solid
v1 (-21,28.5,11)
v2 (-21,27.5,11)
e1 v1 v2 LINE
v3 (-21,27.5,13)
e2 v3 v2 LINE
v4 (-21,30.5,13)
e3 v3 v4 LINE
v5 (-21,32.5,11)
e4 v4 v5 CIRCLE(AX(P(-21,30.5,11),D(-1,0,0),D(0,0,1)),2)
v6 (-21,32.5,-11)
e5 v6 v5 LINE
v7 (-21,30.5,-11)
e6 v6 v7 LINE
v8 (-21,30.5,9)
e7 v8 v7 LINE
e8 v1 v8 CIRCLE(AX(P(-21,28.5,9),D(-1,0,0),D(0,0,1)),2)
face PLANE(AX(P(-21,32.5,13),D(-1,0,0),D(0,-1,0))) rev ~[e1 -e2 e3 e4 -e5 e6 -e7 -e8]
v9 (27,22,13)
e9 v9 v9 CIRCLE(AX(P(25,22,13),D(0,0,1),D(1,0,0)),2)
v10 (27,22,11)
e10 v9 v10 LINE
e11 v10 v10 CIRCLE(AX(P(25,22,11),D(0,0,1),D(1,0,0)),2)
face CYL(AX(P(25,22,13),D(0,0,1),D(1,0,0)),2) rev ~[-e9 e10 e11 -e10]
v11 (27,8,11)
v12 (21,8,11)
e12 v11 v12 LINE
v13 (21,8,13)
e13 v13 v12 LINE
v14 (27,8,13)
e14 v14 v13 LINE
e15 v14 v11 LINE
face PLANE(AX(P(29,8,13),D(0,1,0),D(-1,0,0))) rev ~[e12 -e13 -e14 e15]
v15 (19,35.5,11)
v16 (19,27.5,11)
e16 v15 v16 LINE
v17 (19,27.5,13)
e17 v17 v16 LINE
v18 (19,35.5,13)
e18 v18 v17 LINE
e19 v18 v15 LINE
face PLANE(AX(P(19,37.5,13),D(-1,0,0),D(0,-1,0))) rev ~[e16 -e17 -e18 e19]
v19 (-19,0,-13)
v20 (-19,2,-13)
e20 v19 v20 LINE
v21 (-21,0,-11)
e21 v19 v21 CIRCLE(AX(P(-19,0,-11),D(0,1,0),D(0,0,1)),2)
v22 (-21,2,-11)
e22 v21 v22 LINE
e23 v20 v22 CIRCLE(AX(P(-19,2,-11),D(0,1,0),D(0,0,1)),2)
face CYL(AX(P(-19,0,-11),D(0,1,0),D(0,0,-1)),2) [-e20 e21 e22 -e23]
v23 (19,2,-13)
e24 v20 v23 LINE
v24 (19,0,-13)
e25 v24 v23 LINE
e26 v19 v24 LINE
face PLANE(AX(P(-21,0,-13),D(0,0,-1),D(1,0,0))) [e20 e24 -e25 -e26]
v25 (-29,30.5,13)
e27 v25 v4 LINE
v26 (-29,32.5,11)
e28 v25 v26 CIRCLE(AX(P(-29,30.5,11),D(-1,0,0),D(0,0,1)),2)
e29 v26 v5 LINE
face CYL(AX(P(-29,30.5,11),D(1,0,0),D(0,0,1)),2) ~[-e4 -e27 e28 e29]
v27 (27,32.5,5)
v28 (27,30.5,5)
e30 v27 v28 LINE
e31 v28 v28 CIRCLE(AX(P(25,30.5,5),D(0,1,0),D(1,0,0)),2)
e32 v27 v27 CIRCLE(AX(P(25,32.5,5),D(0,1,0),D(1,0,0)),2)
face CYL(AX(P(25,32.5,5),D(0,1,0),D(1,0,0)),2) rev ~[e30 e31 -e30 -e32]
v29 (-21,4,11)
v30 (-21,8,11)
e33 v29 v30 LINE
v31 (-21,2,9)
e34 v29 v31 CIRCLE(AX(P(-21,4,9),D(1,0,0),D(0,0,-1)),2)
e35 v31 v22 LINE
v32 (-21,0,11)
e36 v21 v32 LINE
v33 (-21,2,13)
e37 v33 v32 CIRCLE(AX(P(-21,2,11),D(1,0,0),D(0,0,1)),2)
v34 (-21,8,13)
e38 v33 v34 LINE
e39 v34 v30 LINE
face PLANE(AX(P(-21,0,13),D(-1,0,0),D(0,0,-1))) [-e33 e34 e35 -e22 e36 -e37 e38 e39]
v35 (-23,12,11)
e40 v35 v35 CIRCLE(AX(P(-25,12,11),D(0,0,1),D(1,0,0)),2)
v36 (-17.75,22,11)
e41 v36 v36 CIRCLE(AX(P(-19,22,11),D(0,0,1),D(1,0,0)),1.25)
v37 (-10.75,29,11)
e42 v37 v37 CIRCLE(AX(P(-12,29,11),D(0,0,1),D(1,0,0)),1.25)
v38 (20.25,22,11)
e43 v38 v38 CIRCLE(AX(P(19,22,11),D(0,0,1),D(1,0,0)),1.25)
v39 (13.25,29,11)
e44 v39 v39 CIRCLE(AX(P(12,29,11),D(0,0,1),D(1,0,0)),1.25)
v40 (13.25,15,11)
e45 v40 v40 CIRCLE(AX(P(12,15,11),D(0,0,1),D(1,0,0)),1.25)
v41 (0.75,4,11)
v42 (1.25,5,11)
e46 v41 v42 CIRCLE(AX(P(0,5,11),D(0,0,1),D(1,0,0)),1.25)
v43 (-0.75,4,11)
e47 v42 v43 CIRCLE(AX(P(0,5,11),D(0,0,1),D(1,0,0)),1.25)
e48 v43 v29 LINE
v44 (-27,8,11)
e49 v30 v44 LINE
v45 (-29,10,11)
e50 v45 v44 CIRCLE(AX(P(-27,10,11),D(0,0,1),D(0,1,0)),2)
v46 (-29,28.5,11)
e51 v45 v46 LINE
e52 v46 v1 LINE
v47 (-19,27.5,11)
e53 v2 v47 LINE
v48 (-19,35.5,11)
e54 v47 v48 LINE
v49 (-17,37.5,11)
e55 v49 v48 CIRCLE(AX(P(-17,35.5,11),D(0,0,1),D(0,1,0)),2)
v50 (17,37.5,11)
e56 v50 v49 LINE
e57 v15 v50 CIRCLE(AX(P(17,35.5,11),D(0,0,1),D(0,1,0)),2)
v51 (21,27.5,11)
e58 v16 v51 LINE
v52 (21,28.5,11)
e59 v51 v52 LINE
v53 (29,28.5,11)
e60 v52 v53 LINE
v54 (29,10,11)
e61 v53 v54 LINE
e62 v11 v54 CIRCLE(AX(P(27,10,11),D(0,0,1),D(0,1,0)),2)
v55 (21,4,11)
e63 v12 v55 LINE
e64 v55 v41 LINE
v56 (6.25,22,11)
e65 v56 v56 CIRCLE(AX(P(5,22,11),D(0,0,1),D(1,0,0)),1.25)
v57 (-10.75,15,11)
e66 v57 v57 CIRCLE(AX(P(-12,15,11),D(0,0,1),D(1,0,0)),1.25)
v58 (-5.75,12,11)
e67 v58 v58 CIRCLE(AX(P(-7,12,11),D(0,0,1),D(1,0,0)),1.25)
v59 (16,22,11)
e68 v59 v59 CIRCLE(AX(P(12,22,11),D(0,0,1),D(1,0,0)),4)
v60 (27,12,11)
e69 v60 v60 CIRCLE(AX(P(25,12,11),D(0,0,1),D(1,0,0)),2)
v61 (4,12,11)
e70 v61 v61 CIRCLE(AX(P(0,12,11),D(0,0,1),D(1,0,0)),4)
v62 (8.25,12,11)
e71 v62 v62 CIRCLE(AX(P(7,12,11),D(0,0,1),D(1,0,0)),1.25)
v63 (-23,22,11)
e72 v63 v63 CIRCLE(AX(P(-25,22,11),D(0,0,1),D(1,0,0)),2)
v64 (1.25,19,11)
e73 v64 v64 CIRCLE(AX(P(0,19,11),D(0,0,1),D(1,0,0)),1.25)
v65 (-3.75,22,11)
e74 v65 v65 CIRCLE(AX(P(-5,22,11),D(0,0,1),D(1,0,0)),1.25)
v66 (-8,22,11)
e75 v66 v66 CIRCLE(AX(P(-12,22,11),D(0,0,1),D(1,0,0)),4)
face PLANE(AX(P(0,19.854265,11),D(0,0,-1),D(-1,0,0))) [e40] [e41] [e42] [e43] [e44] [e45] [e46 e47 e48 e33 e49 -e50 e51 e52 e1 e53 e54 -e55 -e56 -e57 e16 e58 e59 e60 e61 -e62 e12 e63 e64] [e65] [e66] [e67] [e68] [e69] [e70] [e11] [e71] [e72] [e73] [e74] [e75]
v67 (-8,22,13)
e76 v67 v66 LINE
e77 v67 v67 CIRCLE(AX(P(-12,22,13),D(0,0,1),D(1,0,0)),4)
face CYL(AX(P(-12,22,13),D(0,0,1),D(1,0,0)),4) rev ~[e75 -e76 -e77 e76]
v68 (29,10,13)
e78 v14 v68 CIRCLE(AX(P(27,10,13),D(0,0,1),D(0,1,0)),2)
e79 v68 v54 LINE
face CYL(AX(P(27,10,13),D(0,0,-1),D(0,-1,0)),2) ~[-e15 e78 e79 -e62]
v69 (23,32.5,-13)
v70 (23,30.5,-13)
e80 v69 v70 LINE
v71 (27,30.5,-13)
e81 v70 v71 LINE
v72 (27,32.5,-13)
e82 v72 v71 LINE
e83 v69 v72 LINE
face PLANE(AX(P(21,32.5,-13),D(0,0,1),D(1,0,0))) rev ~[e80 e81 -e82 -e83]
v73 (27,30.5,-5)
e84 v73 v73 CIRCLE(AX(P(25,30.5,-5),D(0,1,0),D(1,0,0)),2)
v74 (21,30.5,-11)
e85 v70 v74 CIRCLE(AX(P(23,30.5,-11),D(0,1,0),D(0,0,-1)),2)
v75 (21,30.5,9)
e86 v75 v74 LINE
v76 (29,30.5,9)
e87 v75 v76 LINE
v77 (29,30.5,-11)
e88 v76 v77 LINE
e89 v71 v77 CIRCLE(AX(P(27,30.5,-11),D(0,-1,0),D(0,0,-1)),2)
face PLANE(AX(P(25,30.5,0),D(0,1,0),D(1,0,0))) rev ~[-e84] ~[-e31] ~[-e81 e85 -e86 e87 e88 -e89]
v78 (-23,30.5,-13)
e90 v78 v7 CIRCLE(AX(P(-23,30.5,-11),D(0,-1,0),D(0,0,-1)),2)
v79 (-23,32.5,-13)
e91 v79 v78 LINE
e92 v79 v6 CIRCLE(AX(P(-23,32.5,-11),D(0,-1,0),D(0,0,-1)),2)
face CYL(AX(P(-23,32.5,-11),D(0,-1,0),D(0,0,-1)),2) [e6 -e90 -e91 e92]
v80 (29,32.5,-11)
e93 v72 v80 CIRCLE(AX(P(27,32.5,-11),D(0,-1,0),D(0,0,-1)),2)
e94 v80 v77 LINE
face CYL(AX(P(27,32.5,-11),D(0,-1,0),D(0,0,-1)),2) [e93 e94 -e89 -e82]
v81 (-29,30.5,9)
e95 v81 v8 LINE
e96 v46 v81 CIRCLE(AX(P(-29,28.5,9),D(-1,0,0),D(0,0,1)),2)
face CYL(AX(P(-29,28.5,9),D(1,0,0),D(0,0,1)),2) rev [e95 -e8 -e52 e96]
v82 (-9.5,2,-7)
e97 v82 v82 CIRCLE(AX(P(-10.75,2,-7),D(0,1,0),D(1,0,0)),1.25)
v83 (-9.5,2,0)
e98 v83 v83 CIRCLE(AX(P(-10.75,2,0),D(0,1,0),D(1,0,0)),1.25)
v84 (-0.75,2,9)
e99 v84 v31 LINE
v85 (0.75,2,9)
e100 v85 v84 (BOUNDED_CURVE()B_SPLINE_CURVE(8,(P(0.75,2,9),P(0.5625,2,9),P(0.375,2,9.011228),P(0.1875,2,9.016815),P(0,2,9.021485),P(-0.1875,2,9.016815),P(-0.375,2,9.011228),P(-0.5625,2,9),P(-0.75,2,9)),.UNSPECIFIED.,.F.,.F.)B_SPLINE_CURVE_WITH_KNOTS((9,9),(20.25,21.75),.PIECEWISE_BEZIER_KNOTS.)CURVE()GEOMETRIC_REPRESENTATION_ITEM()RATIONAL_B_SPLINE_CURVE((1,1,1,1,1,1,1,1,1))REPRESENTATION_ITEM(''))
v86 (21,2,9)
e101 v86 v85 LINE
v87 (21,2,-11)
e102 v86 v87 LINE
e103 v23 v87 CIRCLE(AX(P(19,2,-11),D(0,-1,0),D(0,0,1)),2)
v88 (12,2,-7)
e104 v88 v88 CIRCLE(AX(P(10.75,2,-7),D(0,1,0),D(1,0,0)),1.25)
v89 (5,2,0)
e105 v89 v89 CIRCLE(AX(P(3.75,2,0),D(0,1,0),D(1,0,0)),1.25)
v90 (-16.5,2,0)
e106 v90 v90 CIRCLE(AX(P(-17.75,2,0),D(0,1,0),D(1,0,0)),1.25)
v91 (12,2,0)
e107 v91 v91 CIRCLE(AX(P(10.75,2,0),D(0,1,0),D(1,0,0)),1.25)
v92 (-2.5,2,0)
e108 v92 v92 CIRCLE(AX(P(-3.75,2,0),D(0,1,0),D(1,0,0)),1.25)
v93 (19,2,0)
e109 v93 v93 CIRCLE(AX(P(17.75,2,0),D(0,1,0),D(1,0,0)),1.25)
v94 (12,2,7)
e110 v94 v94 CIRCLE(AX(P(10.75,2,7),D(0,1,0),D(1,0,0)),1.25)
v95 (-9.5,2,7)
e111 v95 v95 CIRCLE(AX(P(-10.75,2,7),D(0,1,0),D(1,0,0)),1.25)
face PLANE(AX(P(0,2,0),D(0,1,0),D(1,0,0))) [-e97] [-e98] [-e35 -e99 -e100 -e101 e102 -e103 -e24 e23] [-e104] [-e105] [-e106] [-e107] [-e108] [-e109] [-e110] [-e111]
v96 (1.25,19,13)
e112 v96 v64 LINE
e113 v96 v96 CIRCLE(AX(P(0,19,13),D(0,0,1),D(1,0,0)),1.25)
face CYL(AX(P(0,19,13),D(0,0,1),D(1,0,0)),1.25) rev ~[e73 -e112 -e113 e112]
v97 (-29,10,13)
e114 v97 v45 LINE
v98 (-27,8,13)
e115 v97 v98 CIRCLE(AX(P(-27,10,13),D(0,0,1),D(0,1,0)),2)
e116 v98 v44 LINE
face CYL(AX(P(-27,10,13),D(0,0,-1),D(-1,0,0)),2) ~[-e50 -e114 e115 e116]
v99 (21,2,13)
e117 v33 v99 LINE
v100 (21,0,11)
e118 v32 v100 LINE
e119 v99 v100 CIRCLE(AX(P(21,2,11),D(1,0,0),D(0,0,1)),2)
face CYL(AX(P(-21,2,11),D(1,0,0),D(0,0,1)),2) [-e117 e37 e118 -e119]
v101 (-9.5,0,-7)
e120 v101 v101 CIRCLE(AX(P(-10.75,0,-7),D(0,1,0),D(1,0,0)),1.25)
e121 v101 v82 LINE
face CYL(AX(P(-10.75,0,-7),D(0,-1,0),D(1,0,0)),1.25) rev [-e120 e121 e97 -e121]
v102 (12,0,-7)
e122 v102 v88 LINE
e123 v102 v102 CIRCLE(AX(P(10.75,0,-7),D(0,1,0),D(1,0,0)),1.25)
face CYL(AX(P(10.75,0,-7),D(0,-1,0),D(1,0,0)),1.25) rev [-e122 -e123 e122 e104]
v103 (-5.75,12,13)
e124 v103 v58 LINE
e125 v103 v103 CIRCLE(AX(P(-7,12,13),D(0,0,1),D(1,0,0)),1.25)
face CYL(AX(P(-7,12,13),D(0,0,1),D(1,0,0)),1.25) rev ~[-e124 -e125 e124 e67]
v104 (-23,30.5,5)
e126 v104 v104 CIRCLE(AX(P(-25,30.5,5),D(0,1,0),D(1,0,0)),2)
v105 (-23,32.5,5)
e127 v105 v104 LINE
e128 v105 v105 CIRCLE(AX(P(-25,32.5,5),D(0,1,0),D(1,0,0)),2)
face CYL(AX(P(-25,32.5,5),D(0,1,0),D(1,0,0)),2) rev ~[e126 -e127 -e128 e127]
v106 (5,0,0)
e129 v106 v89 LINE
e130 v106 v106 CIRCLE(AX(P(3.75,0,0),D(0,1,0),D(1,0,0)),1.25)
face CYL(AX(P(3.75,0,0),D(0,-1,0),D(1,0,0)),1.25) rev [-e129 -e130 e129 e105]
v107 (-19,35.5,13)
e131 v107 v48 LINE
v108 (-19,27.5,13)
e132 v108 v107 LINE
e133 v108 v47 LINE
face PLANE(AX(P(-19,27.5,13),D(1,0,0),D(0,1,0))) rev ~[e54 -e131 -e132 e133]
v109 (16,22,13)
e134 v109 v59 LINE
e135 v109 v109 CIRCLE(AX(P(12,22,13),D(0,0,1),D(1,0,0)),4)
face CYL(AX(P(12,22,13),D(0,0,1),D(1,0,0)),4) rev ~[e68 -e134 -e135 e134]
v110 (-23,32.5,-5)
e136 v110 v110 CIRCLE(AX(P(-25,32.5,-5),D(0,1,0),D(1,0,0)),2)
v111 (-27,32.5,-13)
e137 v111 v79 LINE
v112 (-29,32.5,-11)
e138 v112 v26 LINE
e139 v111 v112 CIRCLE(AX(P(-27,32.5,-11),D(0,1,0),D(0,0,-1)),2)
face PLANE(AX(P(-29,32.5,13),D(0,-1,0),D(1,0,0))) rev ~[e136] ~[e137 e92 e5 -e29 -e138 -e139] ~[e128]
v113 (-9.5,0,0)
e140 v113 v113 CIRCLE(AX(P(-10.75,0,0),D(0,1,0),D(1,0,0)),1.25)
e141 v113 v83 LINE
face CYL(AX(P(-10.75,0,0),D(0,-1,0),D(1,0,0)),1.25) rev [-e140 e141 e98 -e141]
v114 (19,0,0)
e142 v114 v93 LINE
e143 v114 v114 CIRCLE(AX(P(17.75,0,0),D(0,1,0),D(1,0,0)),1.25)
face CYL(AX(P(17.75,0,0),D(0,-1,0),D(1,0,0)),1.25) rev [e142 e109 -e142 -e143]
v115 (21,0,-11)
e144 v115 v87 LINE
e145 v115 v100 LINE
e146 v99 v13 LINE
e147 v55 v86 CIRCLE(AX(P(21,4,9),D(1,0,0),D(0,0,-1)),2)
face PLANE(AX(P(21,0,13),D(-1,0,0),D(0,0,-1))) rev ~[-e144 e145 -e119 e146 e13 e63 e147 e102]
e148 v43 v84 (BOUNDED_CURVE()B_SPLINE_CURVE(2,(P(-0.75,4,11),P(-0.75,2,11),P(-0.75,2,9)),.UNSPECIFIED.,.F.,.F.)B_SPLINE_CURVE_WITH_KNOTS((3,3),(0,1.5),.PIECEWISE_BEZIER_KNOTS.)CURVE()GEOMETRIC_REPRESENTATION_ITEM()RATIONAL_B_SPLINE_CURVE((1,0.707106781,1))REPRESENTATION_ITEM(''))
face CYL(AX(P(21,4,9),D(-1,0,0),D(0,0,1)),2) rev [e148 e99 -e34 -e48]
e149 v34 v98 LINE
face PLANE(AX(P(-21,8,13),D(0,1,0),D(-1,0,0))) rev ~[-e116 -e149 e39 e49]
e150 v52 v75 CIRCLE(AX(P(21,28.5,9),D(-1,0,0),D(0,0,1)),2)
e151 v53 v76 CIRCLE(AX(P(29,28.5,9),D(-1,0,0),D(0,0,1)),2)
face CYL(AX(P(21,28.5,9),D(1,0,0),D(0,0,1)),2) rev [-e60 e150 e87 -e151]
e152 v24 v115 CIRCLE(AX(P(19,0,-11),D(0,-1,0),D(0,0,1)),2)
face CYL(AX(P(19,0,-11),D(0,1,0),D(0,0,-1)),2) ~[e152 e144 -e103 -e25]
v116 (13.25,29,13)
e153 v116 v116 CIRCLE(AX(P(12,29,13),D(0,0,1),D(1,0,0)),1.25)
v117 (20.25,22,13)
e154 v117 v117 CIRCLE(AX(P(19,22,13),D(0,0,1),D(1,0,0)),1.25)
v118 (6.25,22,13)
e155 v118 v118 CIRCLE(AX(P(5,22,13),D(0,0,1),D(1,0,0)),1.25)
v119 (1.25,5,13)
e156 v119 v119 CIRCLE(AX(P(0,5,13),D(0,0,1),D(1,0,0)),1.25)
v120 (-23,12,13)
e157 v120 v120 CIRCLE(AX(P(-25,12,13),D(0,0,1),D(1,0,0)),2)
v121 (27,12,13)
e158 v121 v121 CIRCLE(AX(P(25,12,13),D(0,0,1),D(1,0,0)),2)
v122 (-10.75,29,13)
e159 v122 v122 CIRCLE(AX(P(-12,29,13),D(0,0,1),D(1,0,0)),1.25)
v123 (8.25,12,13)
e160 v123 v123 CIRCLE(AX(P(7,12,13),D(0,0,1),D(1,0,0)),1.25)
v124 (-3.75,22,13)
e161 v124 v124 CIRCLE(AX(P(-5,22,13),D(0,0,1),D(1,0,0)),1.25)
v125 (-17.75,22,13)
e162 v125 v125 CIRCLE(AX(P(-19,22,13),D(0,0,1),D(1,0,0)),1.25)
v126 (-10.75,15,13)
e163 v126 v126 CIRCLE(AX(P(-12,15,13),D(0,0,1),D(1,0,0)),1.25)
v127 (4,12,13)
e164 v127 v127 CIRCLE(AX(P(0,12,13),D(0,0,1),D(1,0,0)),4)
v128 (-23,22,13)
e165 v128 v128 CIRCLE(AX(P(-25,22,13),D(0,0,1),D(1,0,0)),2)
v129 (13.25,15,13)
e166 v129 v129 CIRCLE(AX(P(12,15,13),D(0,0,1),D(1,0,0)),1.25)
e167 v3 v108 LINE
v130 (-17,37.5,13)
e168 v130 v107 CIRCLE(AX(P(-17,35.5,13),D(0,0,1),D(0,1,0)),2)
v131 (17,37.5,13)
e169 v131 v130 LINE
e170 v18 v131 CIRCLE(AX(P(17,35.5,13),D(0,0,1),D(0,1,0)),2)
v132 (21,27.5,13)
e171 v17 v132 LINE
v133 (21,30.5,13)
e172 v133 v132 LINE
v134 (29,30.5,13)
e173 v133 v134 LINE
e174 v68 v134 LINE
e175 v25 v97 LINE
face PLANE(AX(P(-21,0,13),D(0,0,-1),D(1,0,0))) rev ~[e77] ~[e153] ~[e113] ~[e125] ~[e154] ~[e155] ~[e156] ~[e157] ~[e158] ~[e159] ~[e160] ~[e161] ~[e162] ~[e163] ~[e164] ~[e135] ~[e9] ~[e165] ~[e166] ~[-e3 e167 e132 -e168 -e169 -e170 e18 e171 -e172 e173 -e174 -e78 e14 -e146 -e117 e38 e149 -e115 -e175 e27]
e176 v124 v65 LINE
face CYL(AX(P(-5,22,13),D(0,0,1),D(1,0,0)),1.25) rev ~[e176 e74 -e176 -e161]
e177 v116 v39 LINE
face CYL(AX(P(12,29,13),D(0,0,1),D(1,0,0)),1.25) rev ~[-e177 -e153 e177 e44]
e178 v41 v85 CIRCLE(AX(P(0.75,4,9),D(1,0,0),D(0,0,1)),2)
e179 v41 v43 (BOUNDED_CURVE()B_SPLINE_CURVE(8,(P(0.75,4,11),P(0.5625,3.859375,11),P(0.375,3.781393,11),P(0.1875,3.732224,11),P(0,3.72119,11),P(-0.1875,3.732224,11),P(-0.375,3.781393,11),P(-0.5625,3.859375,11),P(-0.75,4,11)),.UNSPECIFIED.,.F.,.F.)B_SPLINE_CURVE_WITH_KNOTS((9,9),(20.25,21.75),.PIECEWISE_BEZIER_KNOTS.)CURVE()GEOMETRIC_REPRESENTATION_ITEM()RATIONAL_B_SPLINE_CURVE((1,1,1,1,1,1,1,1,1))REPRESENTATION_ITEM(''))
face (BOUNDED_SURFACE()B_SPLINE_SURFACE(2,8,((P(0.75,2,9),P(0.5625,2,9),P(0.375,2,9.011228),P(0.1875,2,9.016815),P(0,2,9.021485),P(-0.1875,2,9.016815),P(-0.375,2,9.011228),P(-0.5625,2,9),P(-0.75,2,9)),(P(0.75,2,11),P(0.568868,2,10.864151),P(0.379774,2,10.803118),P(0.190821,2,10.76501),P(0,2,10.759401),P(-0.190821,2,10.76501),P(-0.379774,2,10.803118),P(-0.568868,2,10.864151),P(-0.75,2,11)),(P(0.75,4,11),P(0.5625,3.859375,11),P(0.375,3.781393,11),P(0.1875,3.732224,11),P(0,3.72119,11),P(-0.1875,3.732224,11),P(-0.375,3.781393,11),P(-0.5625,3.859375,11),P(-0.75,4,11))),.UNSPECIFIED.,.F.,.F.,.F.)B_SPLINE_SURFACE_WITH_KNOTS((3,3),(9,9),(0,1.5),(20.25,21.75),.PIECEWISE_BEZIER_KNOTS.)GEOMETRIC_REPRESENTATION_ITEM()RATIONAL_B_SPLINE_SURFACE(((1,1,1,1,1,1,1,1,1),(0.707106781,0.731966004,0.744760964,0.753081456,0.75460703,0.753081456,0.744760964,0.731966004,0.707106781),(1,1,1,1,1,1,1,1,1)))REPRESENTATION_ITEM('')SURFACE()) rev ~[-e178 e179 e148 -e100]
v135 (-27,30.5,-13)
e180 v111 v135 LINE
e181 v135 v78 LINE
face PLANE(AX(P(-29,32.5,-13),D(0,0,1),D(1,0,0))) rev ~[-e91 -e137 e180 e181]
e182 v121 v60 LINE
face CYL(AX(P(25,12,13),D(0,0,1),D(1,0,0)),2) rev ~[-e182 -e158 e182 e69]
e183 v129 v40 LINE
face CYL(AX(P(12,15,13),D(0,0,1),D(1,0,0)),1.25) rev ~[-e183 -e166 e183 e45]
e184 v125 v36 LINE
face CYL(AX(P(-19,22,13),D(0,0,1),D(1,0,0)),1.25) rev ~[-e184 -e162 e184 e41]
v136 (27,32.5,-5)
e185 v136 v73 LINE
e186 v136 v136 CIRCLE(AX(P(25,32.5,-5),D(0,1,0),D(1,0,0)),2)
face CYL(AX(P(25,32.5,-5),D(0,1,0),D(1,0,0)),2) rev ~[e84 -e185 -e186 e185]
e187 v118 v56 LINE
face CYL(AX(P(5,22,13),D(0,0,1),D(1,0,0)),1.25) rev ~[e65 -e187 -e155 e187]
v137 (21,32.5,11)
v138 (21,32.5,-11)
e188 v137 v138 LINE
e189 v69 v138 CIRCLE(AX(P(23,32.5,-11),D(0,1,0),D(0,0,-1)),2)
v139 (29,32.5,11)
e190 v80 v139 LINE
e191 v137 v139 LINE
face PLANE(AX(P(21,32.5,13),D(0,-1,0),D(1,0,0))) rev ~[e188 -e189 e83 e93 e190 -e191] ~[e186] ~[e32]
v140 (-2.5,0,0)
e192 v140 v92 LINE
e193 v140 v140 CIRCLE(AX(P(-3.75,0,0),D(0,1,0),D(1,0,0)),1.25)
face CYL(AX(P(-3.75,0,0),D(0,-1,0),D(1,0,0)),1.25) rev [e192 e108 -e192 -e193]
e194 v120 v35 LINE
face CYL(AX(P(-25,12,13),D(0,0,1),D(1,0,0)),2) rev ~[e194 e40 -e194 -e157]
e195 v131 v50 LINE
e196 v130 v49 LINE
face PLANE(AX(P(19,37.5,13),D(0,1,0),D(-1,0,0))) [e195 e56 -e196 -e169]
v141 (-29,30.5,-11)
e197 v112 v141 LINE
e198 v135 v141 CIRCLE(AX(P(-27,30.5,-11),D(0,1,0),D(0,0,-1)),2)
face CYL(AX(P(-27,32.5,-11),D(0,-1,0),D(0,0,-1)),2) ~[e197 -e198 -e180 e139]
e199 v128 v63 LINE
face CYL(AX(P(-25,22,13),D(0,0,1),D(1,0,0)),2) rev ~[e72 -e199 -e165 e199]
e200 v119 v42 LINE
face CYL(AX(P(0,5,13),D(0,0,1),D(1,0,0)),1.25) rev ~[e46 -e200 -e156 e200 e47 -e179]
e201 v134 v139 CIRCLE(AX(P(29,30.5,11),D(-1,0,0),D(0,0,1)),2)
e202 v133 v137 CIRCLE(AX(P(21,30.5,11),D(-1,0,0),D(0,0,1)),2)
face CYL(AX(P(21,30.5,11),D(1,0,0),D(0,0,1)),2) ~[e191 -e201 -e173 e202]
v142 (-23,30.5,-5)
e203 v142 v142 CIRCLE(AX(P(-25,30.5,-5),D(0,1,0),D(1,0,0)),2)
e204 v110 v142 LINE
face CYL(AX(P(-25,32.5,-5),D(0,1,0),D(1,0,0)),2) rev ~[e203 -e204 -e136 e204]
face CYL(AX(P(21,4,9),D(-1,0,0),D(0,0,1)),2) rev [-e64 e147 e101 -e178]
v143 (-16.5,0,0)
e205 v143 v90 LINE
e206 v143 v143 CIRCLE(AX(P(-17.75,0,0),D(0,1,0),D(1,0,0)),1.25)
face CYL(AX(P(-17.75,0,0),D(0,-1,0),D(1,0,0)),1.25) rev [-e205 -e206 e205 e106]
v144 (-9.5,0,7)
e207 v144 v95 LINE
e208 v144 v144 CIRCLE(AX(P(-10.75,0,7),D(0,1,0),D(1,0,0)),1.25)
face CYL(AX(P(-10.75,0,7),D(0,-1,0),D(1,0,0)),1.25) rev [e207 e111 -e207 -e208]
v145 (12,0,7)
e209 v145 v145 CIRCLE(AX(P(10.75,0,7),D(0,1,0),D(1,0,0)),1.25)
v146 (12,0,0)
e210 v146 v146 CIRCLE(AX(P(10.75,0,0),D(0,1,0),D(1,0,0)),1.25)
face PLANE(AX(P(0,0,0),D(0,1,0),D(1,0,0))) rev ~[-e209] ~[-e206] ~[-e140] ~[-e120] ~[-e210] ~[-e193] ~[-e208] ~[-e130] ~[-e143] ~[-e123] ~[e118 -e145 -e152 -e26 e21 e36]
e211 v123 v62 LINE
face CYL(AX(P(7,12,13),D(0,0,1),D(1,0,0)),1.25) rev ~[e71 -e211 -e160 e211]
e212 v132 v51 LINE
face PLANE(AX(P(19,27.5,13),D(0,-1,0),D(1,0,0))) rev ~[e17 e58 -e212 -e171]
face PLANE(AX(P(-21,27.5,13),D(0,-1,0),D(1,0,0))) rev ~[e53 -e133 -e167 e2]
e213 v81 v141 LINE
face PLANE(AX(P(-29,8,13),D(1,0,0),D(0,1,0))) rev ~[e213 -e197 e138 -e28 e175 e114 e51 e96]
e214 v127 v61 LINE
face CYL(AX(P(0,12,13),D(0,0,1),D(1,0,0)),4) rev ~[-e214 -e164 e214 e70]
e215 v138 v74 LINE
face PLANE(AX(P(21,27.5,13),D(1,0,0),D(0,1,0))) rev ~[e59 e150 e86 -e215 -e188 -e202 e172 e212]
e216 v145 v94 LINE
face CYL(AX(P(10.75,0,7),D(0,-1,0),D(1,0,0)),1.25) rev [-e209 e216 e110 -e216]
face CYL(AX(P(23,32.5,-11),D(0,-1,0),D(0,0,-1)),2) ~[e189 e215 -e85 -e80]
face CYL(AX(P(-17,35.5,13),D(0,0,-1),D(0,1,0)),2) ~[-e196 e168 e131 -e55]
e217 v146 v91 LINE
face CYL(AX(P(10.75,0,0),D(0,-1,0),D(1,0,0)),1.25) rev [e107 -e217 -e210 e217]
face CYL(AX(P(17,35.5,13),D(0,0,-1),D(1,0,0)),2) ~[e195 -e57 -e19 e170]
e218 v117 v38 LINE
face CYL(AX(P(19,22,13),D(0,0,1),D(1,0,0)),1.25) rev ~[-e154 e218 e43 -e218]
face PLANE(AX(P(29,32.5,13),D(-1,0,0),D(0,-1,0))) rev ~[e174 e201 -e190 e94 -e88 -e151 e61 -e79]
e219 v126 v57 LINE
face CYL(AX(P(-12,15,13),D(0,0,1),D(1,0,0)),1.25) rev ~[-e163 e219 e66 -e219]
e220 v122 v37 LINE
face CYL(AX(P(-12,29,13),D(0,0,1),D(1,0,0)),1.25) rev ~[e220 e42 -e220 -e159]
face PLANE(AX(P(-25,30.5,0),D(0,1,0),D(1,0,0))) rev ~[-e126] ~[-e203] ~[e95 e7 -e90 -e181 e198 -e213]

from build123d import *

# Parameters (mm, degrees)
SKETCH_1_W      = 42
SKETCH_1_H      = 26
SKETCH_1_R      = 1.25
EXTRUDE_1_DEPTH = 2
SKETCH_2_R      = 4
SKETCH_2_R_2    = 1.25
SKETCH_2_R_3    = 2
EXTRUDE_2_DEPTH = 2
SKETCH_3_W      = 8
SKETCH_3_H      = 26
SKETCH_3_R      = 2
EXTRUDE_3_DEPTH = 2
FILLET_1_R      = 2


with BuildPart() as part:
    # 草图1 → 凸台-拉伸1 (new body)
    with BuildSketch(Plane(origin=(0, 0, 0), x_dir=(1, 0, 0), z_dir=(0, 1, 0))):
        Rectangle(SKETCH_1_W, SKETCH_1_H)
        with Locations((10.75, 0)):
            Circle(SKETCH_1_R, mode=Mode.SUBTRACT)
        with Locations((3.75, 0)):
            Circle(SKETCH_1_R, mode=Mode.SUBTRACT)
        with Locations((10.75, 7)):
            Circle(SKETCH_1_R, mode=Mode.SUBTRACT)
        with Locations((17.75, 0)):
            Circle(SKETCH_1_R, mode=Mode.SUBTRACT)
        with Locations((10.75, -7)):
            Circle(SKETCH_1_R, mode=Mode.SUBTRACT)
        with Locations((-10.75, -7)):
            Circle(SKETCH_1_R, mode=Mode.SUBTRACT)
        with Locations((-17.75, 0)):
            Circle(SKETCH_1_R, mode=Mode.SUBTRACT)
        with Locations((-10.75, 0)):
            Circle(SKETCH_1_R, mode=Mode.SUBTRACT)
        with Locations((-10.75, 7)):
            Circle(SKETCH_1_R, mode=Mode.SUBTRACT)
        with Locations((-3.75, 0)):
            Circle(SKETCH_1_R, mode=Mode.SUBTRACT)
    extrude(amount=EXTRUDE_1_DEPTH)

    # 草图2 → 凸台-拉伸2 (add)
    with BuildSketch(Plane.XY.offset(13)):
        Polygon((21, 0), (-21, 0), (-21, 8), (-29, 8), (-29, 32.5), (-21, 32.5), (-21, 27.5), (-19, 27.5), (-19, 37.5), (0, 37.5), (19, 37.5), (19, 27.5), (21, 27.5), (21, 32.5), (29, 32.5), (29, 8), (21, 8), align=None)
        with Locations((0, 12)):
            Circle(SKETCH_2_R, mode=Mode.SUBTRACT)
        with Locations((0, 19)):
            Circle(SKETCH_2_R_2, mode=Mode.SUBTRACT)
        with Locations((7, 12)):
            Circle(SKETCH_2_R_2, mode=Mode.SUBTRACT)
        with Locations((0, 5)):
            Circle(SKETCH_2_R_2, mode=Mode.SUBTRACT)
        with Locations((-7, 12)):
            Circle(SKETCH_2_R_2, mode=Mode.SUBTRACT)
        with Locations((12, 22)):
            Circle(SKETCH_2_R, mode=Mode.SUBTRACT)
        with Locations((12, 29)):
            Circle(SKETCH_2_R_2, mode=Mode.SUBTRACT)
        with Locations((19, 22)):
            Circle(SKETCH_2_R_2, mode=Mode.SUBTRACT)
        with Locations((12, 15)):
            Circle(SKETCH_2_R_2, mode=Mode.SUBTRACT)
        with Locations((5, 22)):
            Circle(SKETCH_2_R_2, mode=Mode.SUBTRACT)
        with Locations((-19, 22)):
            Circle(SKETCH_2_R_2, mode=Mode.SUBTRACT)
        with Locations((-12, 15)):
            Circle(SKETCH_2_R_2, mode=Mode.SUBTRACT)
        with Locations((-12, 22)):
            Circle(SKETCH_2_R, mode=Mode.SUBTRACT)
        with Locations((-5, 22)):
            Circle(SKETCH_2_R_2, mode=Mode.SUBTRACT)
        with Locations((-12, 29)):
            Circle(SKETCH_2_R_2, mode=Mode.SUBTRACT)
        with Locations((-25, 22)):
            Circle(SKETCH_2_R_3, mode=Mode.SUBTRACT)
        with Locations((-25, 12)):
            Circle(SKETCH_2_R_3, mode=Mode.SUBTRACT)
        with Locations((25, 12)):
            Circle(SKETCH_2_R_3, mode=Mode.SUBTRACT)
        with Locations((25, 22)):
            Circle(SKETCH_2_R_3, mode=Mode.SUBTRACT)
    extrude(amount=-EXTRUDE_2_DEPTH)

    # 草图3 → 凸台-拉伸3 (add)
    with BuildSketch(Plane(origin=(0, 32.5, 0), x_dir=(1, 0, 0), z_dir=(0, 1, 0))):
        with Locations((-25, 0)):
            Rectangle(SKETCH_3_W, SKETCH_3_H)
        with Locations((-25, 5)):
            Circle(SKETCH_3_R, mode=Mode.SUBTRACT)
        with Locations((-25, -5)):
            Circle(SKETCH_3_R, mode=Mode.SUBTRACT)
        with Locations((25, 0)):
            Rectangle(SKETCH_3_W, SKETCH_3_H)
        with Locations((25, -5)):
            Circle(SKETCH_3_R, mode=Mode.SUBTRACT)
        with Locations((25, 5)):
            Circle(SKETCH_3_R, mode=Mode.SUBTRACT)
    extrude(amount=-EXTRUDE_3_DEPTH)

    # 圆角1
    fillet_1_edges = [part.edges().sort_by_distance(p)[0] for p in [
        (-25, 30.5, 11),
        (-29, 31.5, -13),
        (-21, 31.5, -13),
        (25, 30.5, 11),
        (21, 31.5, -13),
        (29, 31.5, -13),
        (0, 0, 13),
        (-29, 8, 12),
        (-19, 37.5, 12),
        (19, 37.5, 12),
        (29, 8, 12),
        (0, 2, 11),
        (25, 32.5, 13),
        (-25, 32.5, 13),
        (-21, 1, -13),
        (21, 1, -13),
    ]]
    fillet(fillet_1_edges, radius=FILLET_1_R)


solid = part.part
